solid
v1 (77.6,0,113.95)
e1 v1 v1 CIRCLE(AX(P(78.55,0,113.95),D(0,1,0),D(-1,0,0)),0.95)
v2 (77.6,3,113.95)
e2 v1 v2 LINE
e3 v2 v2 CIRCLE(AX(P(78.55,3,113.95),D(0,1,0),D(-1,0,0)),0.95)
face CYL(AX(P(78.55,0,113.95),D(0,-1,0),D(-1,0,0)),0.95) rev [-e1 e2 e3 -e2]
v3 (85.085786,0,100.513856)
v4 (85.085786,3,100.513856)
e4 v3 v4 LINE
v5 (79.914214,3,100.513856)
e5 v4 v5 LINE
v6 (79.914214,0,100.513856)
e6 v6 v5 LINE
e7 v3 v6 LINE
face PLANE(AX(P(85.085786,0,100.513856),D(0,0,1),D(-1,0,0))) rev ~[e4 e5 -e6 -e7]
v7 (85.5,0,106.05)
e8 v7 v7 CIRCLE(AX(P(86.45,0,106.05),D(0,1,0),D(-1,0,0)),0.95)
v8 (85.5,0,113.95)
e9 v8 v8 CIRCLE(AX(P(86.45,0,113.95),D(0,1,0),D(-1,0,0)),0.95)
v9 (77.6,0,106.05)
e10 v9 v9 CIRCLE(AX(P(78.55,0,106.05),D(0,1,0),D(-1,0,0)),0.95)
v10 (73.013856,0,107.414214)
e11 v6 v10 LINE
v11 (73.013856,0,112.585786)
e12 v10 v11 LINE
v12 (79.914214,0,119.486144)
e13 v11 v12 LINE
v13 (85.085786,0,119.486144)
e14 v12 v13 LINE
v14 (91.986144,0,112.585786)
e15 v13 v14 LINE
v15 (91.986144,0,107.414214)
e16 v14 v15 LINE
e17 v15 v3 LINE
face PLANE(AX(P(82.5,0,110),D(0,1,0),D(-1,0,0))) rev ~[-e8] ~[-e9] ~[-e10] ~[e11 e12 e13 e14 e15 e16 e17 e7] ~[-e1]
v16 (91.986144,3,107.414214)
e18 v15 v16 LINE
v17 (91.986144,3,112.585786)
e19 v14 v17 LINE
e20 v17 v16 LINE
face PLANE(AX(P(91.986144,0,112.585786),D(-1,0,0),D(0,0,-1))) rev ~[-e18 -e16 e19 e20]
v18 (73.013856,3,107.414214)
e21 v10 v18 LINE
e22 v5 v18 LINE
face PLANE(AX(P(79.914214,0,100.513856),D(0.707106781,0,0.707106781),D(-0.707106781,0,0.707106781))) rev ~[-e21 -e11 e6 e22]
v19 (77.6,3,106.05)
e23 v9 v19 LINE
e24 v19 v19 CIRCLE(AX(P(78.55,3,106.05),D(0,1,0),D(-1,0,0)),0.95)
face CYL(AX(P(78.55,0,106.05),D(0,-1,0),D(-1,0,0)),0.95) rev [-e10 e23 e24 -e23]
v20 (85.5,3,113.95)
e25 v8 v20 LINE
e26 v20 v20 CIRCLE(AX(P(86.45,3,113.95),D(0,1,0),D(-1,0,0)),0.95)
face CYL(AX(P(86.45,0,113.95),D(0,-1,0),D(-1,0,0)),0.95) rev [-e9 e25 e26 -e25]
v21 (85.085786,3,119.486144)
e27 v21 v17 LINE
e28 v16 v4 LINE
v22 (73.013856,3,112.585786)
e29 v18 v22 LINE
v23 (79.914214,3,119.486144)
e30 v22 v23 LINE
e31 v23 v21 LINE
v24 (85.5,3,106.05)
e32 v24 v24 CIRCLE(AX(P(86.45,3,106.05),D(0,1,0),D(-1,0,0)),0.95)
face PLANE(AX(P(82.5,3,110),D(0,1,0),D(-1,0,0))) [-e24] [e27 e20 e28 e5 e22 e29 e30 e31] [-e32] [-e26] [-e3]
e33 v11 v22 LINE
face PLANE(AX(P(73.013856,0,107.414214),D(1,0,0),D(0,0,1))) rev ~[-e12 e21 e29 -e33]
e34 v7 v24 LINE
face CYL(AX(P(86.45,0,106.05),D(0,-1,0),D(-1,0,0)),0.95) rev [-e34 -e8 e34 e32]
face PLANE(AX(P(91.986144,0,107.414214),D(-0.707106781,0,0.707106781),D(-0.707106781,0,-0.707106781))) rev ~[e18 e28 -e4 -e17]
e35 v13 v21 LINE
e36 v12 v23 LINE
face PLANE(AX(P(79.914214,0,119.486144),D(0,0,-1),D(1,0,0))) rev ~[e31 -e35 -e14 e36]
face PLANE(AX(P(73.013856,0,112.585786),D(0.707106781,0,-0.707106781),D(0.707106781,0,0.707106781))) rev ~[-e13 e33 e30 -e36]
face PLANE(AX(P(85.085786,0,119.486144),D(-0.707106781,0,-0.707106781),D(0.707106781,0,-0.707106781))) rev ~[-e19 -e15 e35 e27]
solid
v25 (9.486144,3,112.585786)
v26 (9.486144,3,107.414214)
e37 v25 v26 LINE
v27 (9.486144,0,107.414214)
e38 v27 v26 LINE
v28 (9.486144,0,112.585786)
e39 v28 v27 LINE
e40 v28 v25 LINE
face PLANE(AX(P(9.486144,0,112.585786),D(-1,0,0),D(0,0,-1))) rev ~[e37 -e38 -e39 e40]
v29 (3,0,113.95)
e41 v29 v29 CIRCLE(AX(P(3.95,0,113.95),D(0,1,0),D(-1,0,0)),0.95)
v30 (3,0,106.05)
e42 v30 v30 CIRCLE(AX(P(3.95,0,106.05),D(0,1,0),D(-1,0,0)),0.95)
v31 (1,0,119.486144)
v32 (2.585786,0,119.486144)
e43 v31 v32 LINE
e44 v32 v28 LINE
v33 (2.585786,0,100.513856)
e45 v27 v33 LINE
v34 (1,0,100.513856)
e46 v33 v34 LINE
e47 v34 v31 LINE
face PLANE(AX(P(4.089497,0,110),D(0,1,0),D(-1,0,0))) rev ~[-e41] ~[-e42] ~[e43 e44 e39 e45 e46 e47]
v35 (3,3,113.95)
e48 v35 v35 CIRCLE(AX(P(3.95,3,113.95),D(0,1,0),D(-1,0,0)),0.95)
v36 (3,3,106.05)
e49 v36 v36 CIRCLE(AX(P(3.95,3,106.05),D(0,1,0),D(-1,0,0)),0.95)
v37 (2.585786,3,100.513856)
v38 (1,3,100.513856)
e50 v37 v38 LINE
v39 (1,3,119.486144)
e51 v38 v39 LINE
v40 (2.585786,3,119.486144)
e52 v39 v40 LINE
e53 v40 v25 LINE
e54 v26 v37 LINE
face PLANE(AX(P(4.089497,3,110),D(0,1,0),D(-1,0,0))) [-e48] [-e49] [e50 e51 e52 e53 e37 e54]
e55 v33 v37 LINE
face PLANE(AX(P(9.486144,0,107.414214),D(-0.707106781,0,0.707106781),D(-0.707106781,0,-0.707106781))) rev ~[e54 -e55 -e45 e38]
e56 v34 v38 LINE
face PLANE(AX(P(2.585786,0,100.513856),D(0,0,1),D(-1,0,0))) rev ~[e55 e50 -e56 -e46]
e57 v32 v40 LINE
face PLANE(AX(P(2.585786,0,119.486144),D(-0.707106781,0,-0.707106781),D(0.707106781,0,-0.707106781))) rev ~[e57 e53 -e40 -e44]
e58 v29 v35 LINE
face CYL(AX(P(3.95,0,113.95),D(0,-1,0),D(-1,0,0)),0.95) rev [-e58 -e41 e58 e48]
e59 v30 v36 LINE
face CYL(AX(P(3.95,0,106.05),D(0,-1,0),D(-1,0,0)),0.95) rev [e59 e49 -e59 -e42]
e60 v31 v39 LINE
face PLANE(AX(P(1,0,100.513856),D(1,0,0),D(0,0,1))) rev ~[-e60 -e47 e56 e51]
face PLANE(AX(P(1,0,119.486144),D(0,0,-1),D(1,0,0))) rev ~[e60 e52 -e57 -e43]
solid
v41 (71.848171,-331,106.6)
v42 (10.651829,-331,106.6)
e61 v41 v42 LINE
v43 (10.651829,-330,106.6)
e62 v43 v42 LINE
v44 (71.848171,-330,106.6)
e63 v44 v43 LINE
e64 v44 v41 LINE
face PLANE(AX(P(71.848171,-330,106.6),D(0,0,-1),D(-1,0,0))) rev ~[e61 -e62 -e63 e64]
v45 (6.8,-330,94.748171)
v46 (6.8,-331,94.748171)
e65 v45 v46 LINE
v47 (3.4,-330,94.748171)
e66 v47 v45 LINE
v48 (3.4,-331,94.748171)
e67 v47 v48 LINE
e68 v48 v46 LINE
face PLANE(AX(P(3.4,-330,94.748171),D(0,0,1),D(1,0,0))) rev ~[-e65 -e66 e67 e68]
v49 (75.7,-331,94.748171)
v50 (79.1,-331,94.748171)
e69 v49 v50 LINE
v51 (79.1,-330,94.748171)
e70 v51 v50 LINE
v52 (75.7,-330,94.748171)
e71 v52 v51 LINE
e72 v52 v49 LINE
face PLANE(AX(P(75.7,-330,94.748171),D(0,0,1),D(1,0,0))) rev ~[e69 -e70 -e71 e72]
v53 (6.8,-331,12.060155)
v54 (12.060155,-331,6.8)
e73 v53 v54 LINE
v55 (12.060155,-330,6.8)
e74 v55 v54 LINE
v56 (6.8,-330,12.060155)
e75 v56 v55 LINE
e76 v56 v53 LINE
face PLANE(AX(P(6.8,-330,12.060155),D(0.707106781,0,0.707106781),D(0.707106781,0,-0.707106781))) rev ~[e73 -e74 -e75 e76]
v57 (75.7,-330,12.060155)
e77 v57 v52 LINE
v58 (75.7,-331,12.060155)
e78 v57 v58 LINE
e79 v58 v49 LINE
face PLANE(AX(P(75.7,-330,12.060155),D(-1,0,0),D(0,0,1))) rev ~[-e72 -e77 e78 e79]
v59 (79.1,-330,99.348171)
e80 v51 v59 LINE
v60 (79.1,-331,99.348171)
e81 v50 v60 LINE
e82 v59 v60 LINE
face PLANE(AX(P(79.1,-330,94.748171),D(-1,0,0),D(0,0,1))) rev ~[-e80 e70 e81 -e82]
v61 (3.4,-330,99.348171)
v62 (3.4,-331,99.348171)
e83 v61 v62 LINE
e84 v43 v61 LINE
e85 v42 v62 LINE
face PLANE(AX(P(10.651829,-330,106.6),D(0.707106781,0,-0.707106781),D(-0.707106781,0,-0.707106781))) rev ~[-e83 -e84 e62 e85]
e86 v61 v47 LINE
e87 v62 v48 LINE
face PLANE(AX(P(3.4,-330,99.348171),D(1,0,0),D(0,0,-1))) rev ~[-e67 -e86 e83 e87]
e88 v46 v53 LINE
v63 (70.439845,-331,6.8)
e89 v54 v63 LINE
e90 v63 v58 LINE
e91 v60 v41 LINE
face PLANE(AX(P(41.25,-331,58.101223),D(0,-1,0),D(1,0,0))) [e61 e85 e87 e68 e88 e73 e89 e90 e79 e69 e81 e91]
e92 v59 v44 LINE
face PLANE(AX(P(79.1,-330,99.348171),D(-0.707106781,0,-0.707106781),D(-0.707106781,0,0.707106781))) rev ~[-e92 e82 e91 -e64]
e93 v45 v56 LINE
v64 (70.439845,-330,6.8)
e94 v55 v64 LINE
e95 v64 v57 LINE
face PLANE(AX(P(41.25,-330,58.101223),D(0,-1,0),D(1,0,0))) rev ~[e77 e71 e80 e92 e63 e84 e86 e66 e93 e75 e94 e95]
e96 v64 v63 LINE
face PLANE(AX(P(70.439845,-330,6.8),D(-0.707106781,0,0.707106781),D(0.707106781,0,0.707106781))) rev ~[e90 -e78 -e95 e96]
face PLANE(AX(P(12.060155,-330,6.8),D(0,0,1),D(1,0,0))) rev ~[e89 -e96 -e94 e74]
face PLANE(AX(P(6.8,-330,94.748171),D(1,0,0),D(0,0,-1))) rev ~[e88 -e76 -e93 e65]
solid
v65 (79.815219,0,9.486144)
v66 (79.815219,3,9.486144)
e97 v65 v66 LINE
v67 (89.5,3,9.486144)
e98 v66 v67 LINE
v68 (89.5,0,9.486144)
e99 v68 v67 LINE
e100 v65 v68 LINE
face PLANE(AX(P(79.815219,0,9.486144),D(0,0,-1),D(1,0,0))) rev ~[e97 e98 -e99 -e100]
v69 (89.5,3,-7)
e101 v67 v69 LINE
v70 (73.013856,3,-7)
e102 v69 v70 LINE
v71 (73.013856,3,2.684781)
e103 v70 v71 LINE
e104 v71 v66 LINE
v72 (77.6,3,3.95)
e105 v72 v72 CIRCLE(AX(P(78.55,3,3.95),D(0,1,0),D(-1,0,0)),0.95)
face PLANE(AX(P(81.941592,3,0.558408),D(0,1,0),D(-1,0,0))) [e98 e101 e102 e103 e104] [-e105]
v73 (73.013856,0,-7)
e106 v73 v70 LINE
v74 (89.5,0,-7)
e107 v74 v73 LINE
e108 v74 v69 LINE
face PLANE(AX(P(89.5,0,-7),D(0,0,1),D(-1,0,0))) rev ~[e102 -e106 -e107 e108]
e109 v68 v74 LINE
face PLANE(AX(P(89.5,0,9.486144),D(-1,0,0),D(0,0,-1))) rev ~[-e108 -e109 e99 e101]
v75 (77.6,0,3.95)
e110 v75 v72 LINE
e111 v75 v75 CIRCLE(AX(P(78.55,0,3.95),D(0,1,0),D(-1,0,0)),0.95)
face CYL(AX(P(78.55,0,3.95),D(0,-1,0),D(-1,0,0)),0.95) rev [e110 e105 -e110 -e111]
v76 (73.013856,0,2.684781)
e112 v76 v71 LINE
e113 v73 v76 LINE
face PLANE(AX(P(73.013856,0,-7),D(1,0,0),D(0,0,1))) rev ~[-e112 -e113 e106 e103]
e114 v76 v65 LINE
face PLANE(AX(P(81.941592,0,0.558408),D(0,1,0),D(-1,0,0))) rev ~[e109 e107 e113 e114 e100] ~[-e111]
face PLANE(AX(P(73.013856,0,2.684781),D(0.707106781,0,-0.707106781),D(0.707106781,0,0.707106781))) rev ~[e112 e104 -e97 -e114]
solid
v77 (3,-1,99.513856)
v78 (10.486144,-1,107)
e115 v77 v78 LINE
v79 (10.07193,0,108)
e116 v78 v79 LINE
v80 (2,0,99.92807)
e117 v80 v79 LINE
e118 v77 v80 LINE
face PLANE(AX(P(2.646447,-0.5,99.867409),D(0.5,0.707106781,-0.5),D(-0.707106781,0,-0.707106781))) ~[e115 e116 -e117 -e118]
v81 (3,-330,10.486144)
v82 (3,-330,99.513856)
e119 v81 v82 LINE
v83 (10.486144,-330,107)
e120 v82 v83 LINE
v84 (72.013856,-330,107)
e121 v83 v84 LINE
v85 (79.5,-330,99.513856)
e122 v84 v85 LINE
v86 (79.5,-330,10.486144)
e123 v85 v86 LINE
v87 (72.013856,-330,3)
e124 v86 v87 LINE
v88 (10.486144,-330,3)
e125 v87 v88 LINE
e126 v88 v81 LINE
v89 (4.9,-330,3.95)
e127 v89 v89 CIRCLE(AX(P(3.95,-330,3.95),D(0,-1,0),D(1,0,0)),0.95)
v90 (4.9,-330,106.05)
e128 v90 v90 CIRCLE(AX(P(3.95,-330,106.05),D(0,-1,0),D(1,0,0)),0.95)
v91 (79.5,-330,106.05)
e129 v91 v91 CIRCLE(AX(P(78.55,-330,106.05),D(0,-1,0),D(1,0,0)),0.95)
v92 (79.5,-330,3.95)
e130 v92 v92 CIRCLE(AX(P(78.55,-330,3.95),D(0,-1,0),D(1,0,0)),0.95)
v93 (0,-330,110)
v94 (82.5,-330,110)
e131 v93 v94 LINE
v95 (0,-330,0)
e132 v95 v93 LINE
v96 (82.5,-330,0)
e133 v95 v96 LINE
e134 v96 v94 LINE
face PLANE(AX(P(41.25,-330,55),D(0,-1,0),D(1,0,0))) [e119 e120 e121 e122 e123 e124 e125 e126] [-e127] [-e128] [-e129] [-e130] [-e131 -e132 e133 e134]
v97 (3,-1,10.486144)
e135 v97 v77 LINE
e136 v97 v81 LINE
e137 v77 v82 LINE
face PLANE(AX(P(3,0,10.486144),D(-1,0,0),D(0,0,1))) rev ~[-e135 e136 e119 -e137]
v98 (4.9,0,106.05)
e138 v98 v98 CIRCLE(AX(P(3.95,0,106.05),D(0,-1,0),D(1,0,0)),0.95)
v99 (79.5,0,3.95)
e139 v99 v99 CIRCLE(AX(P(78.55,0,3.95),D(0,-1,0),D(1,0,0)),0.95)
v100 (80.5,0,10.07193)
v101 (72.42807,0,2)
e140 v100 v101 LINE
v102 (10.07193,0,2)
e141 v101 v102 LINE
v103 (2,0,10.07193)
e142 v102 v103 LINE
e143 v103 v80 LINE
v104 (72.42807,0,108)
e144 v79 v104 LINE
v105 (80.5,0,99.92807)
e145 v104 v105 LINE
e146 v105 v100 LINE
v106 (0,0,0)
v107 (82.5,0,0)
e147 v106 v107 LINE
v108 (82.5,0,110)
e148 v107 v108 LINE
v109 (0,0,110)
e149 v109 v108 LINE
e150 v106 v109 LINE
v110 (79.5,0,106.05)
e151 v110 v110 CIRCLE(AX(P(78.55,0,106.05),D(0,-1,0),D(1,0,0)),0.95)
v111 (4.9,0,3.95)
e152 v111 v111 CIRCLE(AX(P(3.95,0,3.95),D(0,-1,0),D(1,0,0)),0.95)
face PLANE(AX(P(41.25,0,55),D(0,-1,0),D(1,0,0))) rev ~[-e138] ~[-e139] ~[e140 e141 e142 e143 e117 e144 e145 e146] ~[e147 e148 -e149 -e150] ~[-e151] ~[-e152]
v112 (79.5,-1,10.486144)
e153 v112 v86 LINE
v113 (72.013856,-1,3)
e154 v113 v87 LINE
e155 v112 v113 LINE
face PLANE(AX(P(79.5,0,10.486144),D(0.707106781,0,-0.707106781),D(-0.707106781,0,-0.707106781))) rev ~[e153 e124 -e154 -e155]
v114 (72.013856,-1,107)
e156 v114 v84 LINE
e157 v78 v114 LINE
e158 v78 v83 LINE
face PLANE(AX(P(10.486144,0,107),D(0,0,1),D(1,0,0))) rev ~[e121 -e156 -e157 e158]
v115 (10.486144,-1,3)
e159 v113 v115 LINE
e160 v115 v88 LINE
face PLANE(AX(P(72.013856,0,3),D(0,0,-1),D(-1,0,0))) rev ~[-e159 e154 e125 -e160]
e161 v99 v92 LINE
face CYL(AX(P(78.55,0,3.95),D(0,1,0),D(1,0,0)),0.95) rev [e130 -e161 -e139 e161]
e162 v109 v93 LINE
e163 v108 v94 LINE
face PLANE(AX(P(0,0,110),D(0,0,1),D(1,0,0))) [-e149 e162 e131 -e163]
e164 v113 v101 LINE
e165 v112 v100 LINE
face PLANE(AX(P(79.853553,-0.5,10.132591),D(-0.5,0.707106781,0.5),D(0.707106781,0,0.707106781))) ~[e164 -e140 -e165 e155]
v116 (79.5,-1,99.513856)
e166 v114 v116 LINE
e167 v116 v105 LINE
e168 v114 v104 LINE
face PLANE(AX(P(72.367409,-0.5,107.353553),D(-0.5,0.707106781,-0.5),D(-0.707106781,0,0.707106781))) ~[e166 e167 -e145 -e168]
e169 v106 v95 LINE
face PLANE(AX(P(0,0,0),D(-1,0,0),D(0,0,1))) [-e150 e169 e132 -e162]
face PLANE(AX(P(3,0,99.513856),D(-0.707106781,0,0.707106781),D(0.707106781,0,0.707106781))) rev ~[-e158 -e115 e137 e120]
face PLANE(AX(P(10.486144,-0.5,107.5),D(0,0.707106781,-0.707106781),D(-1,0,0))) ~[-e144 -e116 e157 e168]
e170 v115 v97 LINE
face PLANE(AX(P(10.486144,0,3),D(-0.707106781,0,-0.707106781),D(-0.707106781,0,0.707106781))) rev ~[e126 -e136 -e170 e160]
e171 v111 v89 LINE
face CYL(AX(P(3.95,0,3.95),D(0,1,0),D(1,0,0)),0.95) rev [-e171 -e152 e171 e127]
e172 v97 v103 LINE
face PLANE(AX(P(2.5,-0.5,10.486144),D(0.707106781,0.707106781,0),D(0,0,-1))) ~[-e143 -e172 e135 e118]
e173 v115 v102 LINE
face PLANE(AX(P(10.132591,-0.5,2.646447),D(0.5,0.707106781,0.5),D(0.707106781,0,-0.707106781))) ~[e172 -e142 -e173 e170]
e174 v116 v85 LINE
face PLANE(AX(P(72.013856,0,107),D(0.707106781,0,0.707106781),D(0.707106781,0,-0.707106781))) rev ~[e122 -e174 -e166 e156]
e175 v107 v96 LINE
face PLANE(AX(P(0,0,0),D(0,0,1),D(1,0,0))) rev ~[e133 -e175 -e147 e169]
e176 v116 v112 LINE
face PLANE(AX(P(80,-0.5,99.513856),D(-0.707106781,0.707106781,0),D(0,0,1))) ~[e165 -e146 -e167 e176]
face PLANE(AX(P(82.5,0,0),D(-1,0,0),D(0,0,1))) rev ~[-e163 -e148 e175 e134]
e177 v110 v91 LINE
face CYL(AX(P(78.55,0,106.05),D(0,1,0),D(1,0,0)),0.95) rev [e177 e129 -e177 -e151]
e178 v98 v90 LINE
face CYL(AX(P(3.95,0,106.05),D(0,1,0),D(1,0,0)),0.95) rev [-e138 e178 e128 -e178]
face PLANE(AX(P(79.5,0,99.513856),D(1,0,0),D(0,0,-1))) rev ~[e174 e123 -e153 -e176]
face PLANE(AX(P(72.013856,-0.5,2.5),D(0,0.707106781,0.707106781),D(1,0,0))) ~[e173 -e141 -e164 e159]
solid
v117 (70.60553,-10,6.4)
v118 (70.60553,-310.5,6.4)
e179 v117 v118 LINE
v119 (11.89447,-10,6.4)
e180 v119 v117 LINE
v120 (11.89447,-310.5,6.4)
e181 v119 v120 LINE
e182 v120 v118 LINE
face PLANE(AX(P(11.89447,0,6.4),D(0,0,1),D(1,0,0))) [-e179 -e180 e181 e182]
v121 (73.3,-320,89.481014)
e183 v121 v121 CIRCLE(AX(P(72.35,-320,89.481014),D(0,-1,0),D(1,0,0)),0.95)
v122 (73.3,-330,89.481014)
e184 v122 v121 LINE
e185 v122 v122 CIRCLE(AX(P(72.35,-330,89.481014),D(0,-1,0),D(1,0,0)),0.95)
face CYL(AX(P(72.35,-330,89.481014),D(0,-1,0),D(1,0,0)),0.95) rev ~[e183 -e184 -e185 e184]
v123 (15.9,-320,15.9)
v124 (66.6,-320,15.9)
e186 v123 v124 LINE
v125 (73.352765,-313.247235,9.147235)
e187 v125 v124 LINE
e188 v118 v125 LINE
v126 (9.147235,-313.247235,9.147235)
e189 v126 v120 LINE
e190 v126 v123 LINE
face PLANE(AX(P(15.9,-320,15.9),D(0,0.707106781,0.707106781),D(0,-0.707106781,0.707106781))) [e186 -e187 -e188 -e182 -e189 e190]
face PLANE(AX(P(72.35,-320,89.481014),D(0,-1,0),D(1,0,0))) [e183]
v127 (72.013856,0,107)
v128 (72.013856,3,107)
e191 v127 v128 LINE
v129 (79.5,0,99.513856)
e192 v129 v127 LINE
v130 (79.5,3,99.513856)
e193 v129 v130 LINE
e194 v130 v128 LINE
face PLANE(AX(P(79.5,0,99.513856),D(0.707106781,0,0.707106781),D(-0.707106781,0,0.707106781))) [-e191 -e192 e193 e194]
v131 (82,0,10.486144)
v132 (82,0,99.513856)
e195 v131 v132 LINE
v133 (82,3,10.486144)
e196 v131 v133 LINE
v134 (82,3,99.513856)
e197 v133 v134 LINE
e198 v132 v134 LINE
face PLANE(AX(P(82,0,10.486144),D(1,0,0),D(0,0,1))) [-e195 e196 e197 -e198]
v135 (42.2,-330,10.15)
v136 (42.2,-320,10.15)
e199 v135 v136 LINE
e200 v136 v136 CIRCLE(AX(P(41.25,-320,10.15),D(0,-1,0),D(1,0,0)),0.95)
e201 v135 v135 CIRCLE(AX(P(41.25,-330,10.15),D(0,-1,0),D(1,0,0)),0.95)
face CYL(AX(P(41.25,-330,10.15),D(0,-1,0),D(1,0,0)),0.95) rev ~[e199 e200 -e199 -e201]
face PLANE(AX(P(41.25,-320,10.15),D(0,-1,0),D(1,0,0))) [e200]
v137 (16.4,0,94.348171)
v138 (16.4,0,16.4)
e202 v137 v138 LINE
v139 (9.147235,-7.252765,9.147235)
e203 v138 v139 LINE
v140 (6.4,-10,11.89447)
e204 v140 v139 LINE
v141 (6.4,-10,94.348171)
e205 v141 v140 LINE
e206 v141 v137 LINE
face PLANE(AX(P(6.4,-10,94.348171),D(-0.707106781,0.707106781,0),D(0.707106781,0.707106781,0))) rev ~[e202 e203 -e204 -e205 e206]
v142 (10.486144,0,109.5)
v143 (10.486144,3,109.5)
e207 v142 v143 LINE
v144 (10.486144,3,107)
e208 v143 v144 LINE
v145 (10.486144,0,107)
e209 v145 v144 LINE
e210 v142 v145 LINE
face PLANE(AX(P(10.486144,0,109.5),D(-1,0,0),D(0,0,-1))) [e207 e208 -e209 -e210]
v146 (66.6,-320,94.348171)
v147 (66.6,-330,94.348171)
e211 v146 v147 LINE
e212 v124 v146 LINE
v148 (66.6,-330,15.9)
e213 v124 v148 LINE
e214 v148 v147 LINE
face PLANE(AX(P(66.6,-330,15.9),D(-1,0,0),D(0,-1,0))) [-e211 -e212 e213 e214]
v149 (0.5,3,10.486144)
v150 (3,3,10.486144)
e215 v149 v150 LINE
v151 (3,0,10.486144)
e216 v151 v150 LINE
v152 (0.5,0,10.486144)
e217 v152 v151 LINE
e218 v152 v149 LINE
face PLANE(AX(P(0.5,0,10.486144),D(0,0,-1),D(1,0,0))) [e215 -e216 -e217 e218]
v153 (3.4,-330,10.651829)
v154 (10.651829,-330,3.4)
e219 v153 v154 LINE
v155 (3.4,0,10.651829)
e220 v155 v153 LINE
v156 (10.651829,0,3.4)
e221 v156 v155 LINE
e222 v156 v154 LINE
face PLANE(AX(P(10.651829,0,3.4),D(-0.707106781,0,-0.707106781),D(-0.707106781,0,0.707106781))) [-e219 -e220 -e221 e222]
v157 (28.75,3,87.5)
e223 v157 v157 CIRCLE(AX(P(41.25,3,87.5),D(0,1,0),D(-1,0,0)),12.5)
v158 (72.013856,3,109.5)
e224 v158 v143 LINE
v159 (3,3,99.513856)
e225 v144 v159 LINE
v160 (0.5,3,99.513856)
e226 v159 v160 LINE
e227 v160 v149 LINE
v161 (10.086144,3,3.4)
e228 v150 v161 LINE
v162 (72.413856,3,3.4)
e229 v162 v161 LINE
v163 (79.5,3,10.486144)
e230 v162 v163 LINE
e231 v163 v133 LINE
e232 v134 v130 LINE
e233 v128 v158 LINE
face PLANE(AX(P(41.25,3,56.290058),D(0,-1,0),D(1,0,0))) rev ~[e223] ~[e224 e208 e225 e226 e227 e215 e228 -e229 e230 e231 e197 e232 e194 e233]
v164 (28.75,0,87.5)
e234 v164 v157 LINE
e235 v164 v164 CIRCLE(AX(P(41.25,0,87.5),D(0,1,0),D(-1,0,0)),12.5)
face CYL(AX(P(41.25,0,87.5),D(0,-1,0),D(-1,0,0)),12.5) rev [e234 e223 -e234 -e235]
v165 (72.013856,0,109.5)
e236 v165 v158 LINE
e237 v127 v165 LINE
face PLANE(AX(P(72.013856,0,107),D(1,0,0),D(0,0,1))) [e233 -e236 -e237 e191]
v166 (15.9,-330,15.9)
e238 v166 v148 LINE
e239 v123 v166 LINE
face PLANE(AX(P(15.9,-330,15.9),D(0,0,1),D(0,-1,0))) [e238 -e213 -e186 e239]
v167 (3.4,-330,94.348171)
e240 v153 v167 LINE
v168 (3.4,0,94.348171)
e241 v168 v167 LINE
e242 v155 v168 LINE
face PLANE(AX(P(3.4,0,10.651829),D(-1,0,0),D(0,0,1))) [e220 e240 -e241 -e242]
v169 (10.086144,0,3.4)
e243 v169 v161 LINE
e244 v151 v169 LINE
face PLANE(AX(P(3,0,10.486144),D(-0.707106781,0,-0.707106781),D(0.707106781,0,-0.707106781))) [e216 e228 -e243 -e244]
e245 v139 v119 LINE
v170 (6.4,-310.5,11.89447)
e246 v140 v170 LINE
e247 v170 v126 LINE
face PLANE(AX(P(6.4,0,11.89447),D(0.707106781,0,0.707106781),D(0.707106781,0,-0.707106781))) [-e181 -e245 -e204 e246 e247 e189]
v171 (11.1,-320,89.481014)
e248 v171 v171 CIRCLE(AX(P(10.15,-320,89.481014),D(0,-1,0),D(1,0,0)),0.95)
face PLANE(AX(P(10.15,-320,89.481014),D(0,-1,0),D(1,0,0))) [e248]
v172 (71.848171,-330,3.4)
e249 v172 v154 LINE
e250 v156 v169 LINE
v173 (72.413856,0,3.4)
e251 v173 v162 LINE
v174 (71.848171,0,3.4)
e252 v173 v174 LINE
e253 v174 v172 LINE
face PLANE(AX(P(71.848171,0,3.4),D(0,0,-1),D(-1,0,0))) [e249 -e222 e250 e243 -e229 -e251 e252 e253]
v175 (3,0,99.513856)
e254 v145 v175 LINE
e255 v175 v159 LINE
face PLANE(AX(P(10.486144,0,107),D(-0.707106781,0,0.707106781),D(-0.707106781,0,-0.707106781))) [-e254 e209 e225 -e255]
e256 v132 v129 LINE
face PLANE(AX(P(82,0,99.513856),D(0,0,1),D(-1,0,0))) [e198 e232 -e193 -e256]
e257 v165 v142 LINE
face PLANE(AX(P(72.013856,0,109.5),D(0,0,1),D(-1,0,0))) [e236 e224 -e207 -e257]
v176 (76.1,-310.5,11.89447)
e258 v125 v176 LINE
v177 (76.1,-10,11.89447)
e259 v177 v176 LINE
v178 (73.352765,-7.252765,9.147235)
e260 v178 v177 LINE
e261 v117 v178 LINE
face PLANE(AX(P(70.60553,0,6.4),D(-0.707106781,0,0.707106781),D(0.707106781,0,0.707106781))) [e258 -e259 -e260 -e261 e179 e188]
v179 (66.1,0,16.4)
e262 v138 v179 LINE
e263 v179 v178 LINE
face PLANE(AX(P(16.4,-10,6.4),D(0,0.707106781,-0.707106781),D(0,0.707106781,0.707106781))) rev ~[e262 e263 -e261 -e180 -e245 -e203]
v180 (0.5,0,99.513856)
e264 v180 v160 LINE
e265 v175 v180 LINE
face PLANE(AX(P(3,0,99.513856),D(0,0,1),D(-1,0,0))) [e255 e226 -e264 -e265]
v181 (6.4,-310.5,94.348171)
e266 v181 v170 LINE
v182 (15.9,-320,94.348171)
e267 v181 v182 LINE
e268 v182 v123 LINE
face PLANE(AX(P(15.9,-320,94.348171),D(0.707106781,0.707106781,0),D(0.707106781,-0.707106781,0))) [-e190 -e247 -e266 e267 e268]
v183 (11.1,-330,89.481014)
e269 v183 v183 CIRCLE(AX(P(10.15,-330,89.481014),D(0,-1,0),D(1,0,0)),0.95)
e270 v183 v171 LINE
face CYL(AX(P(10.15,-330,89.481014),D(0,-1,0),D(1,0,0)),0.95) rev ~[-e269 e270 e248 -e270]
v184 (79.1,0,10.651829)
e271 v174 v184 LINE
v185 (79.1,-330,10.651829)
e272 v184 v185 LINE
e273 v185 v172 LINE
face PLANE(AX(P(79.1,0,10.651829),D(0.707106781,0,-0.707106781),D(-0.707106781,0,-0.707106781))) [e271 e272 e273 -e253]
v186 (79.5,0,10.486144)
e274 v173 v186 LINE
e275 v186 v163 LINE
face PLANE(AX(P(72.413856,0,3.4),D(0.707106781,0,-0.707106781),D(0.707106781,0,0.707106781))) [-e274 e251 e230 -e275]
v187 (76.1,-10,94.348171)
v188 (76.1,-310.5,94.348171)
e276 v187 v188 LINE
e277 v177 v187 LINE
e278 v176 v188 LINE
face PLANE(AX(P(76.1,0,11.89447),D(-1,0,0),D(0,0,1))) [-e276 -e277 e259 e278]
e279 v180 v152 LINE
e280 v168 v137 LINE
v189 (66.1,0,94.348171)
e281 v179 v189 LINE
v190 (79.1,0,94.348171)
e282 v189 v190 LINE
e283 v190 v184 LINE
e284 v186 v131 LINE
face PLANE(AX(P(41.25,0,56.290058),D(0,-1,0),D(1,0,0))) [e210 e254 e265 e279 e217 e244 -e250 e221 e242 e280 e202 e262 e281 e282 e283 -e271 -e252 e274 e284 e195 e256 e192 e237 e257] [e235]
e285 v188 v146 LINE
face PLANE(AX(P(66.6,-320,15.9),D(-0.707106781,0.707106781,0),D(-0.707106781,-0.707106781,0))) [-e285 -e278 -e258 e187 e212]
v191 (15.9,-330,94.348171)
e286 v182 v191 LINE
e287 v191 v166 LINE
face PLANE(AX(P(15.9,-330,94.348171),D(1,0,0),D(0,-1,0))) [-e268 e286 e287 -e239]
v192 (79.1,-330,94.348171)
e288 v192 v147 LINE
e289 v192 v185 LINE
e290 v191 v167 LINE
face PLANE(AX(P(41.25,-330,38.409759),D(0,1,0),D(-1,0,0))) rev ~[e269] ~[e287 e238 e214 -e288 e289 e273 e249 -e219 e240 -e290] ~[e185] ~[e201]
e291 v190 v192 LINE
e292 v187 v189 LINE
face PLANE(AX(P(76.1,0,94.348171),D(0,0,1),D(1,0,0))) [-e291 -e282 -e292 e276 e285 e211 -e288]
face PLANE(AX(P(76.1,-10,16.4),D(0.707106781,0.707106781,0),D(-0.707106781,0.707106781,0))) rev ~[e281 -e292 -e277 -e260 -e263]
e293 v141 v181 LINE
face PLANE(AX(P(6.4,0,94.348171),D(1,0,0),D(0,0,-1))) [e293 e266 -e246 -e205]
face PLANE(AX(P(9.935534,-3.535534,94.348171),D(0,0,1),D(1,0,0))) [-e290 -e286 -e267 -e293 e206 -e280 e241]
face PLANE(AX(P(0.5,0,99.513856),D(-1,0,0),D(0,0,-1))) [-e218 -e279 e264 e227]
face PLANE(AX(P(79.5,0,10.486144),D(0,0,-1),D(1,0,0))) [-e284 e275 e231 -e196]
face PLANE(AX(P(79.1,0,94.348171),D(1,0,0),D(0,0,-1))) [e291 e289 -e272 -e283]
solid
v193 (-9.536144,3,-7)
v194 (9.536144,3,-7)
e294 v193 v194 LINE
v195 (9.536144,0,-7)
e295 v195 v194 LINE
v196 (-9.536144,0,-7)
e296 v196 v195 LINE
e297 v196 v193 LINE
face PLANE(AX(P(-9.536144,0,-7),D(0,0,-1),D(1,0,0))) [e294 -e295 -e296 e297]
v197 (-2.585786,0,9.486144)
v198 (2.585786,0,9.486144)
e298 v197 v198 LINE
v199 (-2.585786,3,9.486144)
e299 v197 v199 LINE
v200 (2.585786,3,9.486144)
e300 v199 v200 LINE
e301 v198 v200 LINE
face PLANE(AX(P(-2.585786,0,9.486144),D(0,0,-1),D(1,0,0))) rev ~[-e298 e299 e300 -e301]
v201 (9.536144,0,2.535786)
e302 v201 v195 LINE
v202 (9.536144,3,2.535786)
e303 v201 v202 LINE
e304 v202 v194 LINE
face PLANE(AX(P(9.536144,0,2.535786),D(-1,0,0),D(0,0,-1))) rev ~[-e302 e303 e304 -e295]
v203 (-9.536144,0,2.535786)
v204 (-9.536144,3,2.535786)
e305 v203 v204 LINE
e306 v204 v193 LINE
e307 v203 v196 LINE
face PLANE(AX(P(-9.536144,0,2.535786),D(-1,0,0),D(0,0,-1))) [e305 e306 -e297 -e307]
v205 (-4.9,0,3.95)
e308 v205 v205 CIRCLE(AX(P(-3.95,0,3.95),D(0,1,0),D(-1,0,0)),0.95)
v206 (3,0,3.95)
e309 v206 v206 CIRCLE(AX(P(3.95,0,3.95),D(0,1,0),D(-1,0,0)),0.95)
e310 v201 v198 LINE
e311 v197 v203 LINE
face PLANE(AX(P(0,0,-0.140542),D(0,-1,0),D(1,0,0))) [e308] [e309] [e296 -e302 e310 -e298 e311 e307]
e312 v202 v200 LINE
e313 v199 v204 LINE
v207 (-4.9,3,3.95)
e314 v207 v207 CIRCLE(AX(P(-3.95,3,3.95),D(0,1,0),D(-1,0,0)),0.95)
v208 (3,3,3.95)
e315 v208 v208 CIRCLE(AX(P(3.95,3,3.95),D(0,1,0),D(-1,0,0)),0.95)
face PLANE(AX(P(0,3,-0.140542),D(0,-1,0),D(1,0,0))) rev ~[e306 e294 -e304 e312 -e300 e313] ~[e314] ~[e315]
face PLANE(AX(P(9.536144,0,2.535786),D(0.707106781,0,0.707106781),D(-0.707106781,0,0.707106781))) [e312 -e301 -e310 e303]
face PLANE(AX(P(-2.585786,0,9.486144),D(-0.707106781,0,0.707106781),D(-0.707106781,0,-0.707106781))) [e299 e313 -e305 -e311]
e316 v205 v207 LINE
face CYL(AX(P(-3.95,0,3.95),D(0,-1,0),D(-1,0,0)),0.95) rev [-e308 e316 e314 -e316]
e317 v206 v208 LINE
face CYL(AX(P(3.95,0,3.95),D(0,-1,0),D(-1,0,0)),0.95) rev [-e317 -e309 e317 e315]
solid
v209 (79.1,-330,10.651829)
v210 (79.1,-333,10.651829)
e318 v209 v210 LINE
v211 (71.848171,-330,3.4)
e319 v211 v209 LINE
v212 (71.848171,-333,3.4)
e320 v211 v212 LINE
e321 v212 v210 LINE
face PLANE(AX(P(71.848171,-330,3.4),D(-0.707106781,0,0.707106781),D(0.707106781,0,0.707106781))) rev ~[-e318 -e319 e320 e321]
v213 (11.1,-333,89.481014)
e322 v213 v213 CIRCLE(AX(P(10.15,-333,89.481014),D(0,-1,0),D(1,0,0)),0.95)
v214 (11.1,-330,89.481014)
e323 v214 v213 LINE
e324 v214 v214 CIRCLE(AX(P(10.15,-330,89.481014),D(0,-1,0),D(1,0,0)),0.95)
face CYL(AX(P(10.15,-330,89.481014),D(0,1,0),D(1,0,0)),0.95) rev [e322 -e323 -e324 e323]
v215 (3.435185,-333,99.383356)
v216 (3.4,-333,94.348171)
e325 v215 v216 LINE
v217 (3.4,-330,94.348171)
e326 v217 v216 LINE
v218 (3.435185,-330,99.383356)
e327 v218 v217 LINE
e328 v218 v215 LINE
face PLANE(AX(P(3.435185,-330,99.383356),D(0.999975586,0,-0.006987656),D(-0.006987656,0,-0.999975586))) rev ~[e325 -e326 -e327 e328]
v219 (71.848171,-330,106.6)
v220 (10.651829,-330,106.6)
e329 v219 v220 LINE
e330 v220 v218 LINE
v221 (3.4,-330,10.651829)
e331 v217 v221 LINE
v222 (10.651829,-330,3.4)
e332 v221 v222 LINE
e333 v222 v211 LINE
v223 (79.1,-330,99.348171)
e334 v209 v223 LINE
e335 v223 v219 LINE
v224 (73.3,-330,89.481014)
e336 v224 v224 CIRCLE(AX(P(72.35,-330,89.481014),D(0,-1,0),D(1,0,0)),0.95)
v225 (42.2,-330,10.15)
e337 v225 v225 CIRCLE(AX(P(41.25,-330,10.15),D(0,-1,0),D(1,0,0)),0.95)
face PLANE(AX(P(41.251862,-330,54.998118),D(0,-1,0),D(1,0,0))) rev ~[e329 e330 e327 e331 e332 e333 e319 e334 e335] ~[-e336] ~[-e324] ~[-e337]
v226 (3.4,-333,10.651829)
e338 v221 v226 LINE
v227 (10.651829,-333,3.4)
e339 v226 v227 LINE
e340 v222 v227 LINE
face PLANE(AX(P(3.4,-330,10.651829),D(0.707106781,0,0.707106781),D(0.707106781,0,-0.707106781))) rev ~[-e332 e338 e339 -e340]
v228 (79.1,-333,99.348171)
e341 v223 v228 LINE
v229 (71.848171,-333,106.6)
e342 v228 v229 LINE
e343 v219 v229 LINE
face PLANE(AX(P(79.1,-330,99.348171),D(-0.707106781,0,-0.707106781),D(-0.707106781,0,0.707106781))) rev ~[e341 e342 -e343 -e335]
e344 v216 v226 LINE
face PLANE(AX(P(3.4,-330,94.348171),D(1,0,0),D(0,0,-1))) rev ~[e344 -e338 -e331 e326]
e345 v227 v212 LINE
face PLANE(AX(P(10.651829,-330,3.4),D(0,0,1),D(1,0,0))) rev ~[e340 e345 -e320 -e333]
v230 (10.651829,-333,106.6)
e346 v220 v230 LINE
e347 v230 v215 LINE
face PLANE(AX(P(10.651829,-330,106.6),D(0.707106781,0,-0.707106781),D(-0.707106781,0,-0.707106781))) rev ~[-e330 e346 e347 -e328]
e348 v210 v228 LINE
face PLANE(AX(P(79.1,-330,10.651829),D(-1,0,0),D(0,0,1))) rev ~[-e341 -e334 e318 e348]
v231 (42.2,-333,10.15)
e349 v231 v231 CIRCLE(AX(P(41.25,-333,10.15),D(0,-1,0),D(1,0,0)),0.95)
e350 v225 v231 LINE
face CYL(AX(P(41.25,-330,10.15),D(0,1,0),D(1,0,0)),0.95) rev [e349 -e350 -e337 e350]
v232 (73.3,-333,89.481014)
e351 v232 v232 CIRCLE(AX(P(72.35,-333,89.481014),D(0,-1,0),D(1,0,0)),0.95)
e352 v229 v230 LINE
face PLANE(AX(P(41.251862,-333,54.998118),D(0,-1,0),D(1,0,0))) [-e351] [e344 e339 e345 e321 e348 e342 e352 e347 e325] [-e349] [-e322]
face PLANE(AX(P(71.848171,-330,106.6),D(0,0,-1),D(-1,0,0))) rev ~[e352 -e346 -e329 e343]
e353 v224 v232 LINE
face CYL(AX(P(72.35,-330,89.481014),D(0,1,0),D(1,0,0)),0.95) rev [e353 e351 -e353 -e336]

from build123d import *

# Parameters (mm, degrees)
SKETCH004_R      = 0.95
EXTRUDE004_DEPTH = 3
SKETCH005_R      = 0.95
EXTRUDE005_DEPTH = 3
SKETCH006_R      = 0.95
EXTRUDE006_DEPTH = 3
SKETCH007_R      = 0.95
EXTRUDE007_DEPTH = 3
EXTRUDE008_DEPTH = 1
SKETCH003_R      = 0.95
EXTRUDE010_DEPTH = 3
SKETCH001_W      = 82.5
SKETCH001_H      = 110
SKETCH001_R      = 0.95
EXTRUDE_DEPTH    = 330
CHAMFER001_SIZE  = 1
SKETCH010_R      = 0.95
EXTRUDE011_DEPTH = 10
EXTRUDE012_DEPTH = 50
SKETCH002_R      = 12.5
EXTRUDE002_DEPTH = 3
EXTRUDE001_DEPTH = 330
EXTRUDE013_DEPTH = 50


with BuildPart() as joint2_e:
    # Sketch004 (on Face17 of Extrude) → Extrude004 (new body)
    with BuildSketch(Plane(origin=(0, 0, 0), x_dir=(-1, 0, 0), z_dir=(0, 1, 0))):
        Polygon((-9.486144, 110), (-9.486144, 107.414214), (-2.585786, 100.513856), (-1, 100.513856), (-1, 119.486144), (-2.585786, 119.486144), (-9.486144, 112.585786), align=None)
        with Locations((-3.95, 106.05)):
            Circle(SKETCH004_R, mode=Mode.SUBTRACT)
        with Locations((-3.95, 113.95)):
            Circle(SKETCH004_R, mode=Mode.SUBTRACT)
    extrude(amount=EXTRUDE004_DEPTH)


with BuildPart() as joint4_e:
    # Sketch005 (on Face17 of Extrude) → Extrude005 (new body)
    with BuildSketch(Plane(origin=(0, 0, 0), x_dir=(-1, 0, 0), z_dir=(0, 1, 0))):
        Polygon((-85.085786, 100.513856), (-79.914214, 100.513856), (-73.013856, 107.414214), (-73.013856, 112.585786), (-79.914214, 119.486144), (-85.085786, 119.486144), (-91.986144, 112.585786), (-91.986144, 107.414214), align=None)
        with Locations((-78.55, 106.05)):
            Circle(SKETCH005_R, mode=Mode.SUBTRACT)
        with Locations((-78.55, 113.95)):
            Circle(SKETCH005_R, mode=Mode.SUBTRACT)
        with Locations((-86.45, 106.05)):
            Circle(SKETCH005_R, mode=Mode.SUBTRACT)
        with Locations((-86.45, 113.95)):
            Circle(SKETCH005_R, mode=Mode.SUBTRACT)
    extrude(amount=EXTRUDE005_DEPTH)


with BuildPart() as wallj1_e:
    # Sketch006 (on Face17 of Extrude) → Extrude006 (new body)
    with BuildSketch(Plane(origin=(0, 0, 0), x_dir=(-1, 0, 0), z_dir=(0, 1, 0))):
        Polygon((-89.5, 9.486144), (-89.5, -7), (-73.013856, -7), (-73.013856, 2.684781), (-79.815219, 9.486144), align=None)
        with Locations((-78.55, 3.95)):
            Circle(SKETCH006_R, mode=Mode.SUBTRACT)
    extrude(amount=EXTRUDE006_DEPTH)


with BuildPart() as wallj2_e:
    # Sketch007 (on Face17 of Extrude) → Extrude007 (new body)
    with BuildSketch(Plane(origin=(0, 0, 0), x_dir=(-1, 0, 0), z_dir=(0, 1, 0))):
        Polygon((-9.536144, 2.535786), (-2.585786, 9.486144), (0, 9.486144), (2.585786, 9.486144), (9.536144, 2.535786), (9.536144, -7), (-9.536144, -7), (-9.536144, 0), align=None)
        with Locations((-3.95, 3.95)):
            Circle(SKETCH007_R, mode=Mode.SUBTRACT)
        with Locations((3.95, 3.95)):
            Circle(SKETCH007_R, mode=Mode.SUBTRACT)
    extrude(amount=EXTRUDE007_DEPTH)


with BuildPart() as sep:
    # Sketch008 → Extrude008 (new body)
    with BuildSketch(Plane.XZ.offset(330)):
        Polygon((3.4, 94.748171), (6.8, 94.748171), (6.8, 12.060155), (12.060155, 6.8), (70.439845, 6.8), (75.7, 12.060155), (75.7, 94.748171), (79.1, 94.748171), (79.1, 99.348171), (71.848171, 106.6), (10.651829, 106.6), (3.4, 99.348171), align=None)
    extrude(amount=EXTRUDE008_DEPTH)


with BuildPart() as drawer_back_e:
    # Sketch003 (on Face14 of Extrude001) → Extrude010 (new body)
    with BuildSketch(Plane.XZ.offset(330)):
        Polygon((79.1, 99.348171), (71.848171, 106.6), (10.651829, 106.6), (3.435185, 99.383356), (3.4, 94.348171), (3.4, 10.651829), (10.651829, 3.4), (71.848171, 3.4), (79.1, 10.651829), (79.1, 94.348171), align=None)
        with Locations((10.15, 89.481014)):
            Circle(SKETCH003_R, mode=Mode.SUBTRACT)
        with Locations((41.25, 10.15)):
            Circle(SKETCH003_R, mode=Mode.SUBTRACT)
        with Locations((72.35, 89.481014)):
            Circle(SKETCH003_R, mode=Mode.SUBTRACT)
    extrude(amount=EXTRUDE010_DEPTH)


with BuildPart() as tube_ch:
    # Sketch001 → Extrude (new body)
    with BuildSketch(Plane.XZ):
        with Locations((41.25, 55)):
            Rectangle(SKETCH001_W, SKETCH001_H)
        with Locations((3.95, 106.05)):
            Circle(SKETCH001_R, mode=Mode.SUBTRACT)
        with Locations((78.55, 106.05)):
            Circle(SKETCH001_R, mode=Mode.SUBTRACT)
        with Locations((3.95, 3.95)):
            Circle(SKETCH001_R, mode=Mode.SUBTRACT)
        with Locations((78.55, 3.95)):
            Circle(SKETCH001_R, mode=Mode.SUBTRACT)
        Polygon((3, 99.513856), (10.486144, 107), (72.013856, 107), (79.5, 99.513856), (79.5, 10.486144), (72.013856, 3), (10.486144, 3), (3, 10.486144), align=None, mode=Mode.SUBTRACT)
    extrude(amount=EXTRUDE_DEPTH)

    # Chamfer001
    chamfer001_edges = [tube_ch.edges().sort_by_distance(p)[0] for p in [
        (6.743072, 0, 103.256928),
        (41.25, 0, 107),
        (75.756928, 0, 103.256928),
        (79.5, 0, 55),
        (75.756928, 0, 6.743072),
        (41.25, 0, 3),
        (6.743072, 0, 6.743072),
        (3, 0, 55),
    ]]
    chamfer(chamfer001_edges, length=CHAMFER001_SIZE)


with BuildPart() as back_holes_e:
    # Sketch010 → Extrude011 (new body)
    with BuildSketch(Plane.XZ.offset(330)):
        with Locations((10.15, 89.481014)):
            Circle(SKETCH010_R)
        with Locations((72.35, 89.481014)):
            Circle(SKETCH010_R)
        with Locations((41.25, 10.15)):
            Circle(SKETCH010_R)
    extrude(amount=-EXTRUDE011_DEPTH)


with BuildPart() as drawer_back_support_negative_e:
    # Sketch014 (on Face14 of Extrude001) → Extrude012 (new body)
    with BuildSketch(Plane.XZ.offset(330)):
        Polygon((71.848171, 3.4), (79.1, 10.651829), (82.5, 10.651829), (82.5, 0), (0, 0), (0, 10.651829), (3.4, 10.651829), (10.651829, 3.4), align=None)
    extrude(amount=-EXTRUDE012_DEPTH)


with BuildPart() as drawer_back_support001:
    # Sweep: sweep along a path in Sketch012
    with BuildLine(Plane.XZ.offset(330)) as sweep_path:
        Line((15.9, 94.348171), (15.9, 15.9))
        Line((15.9, 15.9), (66.6, 15.9))
        Line((66.6, 15.9), (66.6, 94.348171))
    # Sketch009 (on Edge32 of Extrude001) → Sweep (sweep)
    with BuildSketch(Plane(origin=(52.866667, -110, 94.348171), x_dir=(-1, 0, 0), z_dir=(0, 0, -1))):
        Polygon((46.466667, -220), (36.966667, -220), (36.966667, -210), (46.466667, -200.5), align=None)
    sweep(path=sweep_path.line, is_frenet=True, transition=Transition.RIGHT)

    # Cut: cut drawer_back_support_negative_e
    add(drawer_back_support_negative_e.part, mode=Mode.SUBTRACT)

    # Cut002: cut back_holes_e
    add(back_holes_e.part, mode=Mode.SUBTRACT)


with BuildPart() as drawer_front_e:
    # Sketch002 (on Face13 of Extrude001) → Extrude002 (new body)
    with BuildSketch(Plane(origin=(0, 0, 0), x_dir=(-1, 0, 0), z_dir=(0, 1, 0))):
        Polygon((-82, 99.513856), (-79.5, 99.513856), (-72.013856, 107), (-72.013856, 109.5), (-10.486144, 109.5), (-10.486144, 107), (-3, 99.513856), (-0.5, 99.513856), (-0.5, 10.486144), (-3, 10.486144), (-10.086144, 3.4), (-10.651829, 3.4), (-71.848171, 3.4), (-72.413856, 3.4), (-79.5, 10.486144), (-82, 10.486144), align=None)
        with Locations((-41.25, 87.5)):
            Circle(SKETCH002_R, mode=Mode.SUBTRACT)
    extrude(amount=EXTRUDE002_DEPTH)


with BuildPart() as drawer_tube_e:
    # Sketch (on Face17 of Extrude) → Extrude001 (new body)
    with BuildSketch(Plane(origin=(0, 0, 0), x_dir=(-1, 0, 0), z_dir=(0, 1, 0))):
        Polygon((-79.1, 10.651829), (-71.848171, 3.4), (-10.651829, 3.4), (-3.4, 10.651829), (-3.4, 94.348171), (-6.4, 94.348171), (-6.4, 11.89447), (-11.89447, 6.4), (-70.60553, 6.4), (-76.1, 11.89447), (-76.1, 94.348171), (-79.1, 94.348171), align=None)
    extrude(amount=-EXTRUDE001_DEPTH)


with BuildPart() as drawer_front_support_negative_e:
    # Sketch015 (on Face13 of Extrude001) → Extrude013 (new body)
    with BuildSketch(Plane(origin=(0, 0, 0), x_dir=(-1, 0, 0), z_dir=(0, 1, 0))):
        Polygon((-3.4, 10.651829), (0, 10.651829), (0, 0), (-82.5, 0), (-82.5, 10.651829), (-79.1, 10.651829), (-71.848171, 3.4), (-10.651829, 3.4), align=None)
    extrude(amount=-EXTRUDE013_DEPTH)


with BuildPart() as drawer_inside:
    # Sweep001: sweep along a path in Sketch013
    with BuildLine(Plane.XZ) as sweep001_path:
        Line((16.4, 94.348171), (16.4, 16.4))
        Line((16.4, 16.4), (66.1, 16.4))
        Line((66.1, 16.4), (66.1, 94.348171))
    # Sketch011 (on Face6 of Extrude001) → Sweep001 (sweep)
    with BuildSketch(Plane.XY.offset(94.348171)):
        Polygon((6.4, 0), (6.4, -10), (16.4, 0), align=None)
    sweep(path=sweep001_path.line, is_frenet=True, transition=Transition.RIGHT)

    # Cut001: cut drawer_front_support_negative_e
    add(drawer_front_support_negative_e.part, mode=Mode.SUBTRACT)

    # Fusion: union drawer_back_support001, drawer_front_e, drawer_tube_e
    add(drawer_back_support001.part)
    add(drawer_front_e.part)
    add(drawer_tube_e.part)


solid = Compound([joint2_e.part, joint4_e.part, wallj1_e.part, wallj2_e.part, sep.part, drawer_back_e.part, tube_ch.part, drawer_inside.part])
